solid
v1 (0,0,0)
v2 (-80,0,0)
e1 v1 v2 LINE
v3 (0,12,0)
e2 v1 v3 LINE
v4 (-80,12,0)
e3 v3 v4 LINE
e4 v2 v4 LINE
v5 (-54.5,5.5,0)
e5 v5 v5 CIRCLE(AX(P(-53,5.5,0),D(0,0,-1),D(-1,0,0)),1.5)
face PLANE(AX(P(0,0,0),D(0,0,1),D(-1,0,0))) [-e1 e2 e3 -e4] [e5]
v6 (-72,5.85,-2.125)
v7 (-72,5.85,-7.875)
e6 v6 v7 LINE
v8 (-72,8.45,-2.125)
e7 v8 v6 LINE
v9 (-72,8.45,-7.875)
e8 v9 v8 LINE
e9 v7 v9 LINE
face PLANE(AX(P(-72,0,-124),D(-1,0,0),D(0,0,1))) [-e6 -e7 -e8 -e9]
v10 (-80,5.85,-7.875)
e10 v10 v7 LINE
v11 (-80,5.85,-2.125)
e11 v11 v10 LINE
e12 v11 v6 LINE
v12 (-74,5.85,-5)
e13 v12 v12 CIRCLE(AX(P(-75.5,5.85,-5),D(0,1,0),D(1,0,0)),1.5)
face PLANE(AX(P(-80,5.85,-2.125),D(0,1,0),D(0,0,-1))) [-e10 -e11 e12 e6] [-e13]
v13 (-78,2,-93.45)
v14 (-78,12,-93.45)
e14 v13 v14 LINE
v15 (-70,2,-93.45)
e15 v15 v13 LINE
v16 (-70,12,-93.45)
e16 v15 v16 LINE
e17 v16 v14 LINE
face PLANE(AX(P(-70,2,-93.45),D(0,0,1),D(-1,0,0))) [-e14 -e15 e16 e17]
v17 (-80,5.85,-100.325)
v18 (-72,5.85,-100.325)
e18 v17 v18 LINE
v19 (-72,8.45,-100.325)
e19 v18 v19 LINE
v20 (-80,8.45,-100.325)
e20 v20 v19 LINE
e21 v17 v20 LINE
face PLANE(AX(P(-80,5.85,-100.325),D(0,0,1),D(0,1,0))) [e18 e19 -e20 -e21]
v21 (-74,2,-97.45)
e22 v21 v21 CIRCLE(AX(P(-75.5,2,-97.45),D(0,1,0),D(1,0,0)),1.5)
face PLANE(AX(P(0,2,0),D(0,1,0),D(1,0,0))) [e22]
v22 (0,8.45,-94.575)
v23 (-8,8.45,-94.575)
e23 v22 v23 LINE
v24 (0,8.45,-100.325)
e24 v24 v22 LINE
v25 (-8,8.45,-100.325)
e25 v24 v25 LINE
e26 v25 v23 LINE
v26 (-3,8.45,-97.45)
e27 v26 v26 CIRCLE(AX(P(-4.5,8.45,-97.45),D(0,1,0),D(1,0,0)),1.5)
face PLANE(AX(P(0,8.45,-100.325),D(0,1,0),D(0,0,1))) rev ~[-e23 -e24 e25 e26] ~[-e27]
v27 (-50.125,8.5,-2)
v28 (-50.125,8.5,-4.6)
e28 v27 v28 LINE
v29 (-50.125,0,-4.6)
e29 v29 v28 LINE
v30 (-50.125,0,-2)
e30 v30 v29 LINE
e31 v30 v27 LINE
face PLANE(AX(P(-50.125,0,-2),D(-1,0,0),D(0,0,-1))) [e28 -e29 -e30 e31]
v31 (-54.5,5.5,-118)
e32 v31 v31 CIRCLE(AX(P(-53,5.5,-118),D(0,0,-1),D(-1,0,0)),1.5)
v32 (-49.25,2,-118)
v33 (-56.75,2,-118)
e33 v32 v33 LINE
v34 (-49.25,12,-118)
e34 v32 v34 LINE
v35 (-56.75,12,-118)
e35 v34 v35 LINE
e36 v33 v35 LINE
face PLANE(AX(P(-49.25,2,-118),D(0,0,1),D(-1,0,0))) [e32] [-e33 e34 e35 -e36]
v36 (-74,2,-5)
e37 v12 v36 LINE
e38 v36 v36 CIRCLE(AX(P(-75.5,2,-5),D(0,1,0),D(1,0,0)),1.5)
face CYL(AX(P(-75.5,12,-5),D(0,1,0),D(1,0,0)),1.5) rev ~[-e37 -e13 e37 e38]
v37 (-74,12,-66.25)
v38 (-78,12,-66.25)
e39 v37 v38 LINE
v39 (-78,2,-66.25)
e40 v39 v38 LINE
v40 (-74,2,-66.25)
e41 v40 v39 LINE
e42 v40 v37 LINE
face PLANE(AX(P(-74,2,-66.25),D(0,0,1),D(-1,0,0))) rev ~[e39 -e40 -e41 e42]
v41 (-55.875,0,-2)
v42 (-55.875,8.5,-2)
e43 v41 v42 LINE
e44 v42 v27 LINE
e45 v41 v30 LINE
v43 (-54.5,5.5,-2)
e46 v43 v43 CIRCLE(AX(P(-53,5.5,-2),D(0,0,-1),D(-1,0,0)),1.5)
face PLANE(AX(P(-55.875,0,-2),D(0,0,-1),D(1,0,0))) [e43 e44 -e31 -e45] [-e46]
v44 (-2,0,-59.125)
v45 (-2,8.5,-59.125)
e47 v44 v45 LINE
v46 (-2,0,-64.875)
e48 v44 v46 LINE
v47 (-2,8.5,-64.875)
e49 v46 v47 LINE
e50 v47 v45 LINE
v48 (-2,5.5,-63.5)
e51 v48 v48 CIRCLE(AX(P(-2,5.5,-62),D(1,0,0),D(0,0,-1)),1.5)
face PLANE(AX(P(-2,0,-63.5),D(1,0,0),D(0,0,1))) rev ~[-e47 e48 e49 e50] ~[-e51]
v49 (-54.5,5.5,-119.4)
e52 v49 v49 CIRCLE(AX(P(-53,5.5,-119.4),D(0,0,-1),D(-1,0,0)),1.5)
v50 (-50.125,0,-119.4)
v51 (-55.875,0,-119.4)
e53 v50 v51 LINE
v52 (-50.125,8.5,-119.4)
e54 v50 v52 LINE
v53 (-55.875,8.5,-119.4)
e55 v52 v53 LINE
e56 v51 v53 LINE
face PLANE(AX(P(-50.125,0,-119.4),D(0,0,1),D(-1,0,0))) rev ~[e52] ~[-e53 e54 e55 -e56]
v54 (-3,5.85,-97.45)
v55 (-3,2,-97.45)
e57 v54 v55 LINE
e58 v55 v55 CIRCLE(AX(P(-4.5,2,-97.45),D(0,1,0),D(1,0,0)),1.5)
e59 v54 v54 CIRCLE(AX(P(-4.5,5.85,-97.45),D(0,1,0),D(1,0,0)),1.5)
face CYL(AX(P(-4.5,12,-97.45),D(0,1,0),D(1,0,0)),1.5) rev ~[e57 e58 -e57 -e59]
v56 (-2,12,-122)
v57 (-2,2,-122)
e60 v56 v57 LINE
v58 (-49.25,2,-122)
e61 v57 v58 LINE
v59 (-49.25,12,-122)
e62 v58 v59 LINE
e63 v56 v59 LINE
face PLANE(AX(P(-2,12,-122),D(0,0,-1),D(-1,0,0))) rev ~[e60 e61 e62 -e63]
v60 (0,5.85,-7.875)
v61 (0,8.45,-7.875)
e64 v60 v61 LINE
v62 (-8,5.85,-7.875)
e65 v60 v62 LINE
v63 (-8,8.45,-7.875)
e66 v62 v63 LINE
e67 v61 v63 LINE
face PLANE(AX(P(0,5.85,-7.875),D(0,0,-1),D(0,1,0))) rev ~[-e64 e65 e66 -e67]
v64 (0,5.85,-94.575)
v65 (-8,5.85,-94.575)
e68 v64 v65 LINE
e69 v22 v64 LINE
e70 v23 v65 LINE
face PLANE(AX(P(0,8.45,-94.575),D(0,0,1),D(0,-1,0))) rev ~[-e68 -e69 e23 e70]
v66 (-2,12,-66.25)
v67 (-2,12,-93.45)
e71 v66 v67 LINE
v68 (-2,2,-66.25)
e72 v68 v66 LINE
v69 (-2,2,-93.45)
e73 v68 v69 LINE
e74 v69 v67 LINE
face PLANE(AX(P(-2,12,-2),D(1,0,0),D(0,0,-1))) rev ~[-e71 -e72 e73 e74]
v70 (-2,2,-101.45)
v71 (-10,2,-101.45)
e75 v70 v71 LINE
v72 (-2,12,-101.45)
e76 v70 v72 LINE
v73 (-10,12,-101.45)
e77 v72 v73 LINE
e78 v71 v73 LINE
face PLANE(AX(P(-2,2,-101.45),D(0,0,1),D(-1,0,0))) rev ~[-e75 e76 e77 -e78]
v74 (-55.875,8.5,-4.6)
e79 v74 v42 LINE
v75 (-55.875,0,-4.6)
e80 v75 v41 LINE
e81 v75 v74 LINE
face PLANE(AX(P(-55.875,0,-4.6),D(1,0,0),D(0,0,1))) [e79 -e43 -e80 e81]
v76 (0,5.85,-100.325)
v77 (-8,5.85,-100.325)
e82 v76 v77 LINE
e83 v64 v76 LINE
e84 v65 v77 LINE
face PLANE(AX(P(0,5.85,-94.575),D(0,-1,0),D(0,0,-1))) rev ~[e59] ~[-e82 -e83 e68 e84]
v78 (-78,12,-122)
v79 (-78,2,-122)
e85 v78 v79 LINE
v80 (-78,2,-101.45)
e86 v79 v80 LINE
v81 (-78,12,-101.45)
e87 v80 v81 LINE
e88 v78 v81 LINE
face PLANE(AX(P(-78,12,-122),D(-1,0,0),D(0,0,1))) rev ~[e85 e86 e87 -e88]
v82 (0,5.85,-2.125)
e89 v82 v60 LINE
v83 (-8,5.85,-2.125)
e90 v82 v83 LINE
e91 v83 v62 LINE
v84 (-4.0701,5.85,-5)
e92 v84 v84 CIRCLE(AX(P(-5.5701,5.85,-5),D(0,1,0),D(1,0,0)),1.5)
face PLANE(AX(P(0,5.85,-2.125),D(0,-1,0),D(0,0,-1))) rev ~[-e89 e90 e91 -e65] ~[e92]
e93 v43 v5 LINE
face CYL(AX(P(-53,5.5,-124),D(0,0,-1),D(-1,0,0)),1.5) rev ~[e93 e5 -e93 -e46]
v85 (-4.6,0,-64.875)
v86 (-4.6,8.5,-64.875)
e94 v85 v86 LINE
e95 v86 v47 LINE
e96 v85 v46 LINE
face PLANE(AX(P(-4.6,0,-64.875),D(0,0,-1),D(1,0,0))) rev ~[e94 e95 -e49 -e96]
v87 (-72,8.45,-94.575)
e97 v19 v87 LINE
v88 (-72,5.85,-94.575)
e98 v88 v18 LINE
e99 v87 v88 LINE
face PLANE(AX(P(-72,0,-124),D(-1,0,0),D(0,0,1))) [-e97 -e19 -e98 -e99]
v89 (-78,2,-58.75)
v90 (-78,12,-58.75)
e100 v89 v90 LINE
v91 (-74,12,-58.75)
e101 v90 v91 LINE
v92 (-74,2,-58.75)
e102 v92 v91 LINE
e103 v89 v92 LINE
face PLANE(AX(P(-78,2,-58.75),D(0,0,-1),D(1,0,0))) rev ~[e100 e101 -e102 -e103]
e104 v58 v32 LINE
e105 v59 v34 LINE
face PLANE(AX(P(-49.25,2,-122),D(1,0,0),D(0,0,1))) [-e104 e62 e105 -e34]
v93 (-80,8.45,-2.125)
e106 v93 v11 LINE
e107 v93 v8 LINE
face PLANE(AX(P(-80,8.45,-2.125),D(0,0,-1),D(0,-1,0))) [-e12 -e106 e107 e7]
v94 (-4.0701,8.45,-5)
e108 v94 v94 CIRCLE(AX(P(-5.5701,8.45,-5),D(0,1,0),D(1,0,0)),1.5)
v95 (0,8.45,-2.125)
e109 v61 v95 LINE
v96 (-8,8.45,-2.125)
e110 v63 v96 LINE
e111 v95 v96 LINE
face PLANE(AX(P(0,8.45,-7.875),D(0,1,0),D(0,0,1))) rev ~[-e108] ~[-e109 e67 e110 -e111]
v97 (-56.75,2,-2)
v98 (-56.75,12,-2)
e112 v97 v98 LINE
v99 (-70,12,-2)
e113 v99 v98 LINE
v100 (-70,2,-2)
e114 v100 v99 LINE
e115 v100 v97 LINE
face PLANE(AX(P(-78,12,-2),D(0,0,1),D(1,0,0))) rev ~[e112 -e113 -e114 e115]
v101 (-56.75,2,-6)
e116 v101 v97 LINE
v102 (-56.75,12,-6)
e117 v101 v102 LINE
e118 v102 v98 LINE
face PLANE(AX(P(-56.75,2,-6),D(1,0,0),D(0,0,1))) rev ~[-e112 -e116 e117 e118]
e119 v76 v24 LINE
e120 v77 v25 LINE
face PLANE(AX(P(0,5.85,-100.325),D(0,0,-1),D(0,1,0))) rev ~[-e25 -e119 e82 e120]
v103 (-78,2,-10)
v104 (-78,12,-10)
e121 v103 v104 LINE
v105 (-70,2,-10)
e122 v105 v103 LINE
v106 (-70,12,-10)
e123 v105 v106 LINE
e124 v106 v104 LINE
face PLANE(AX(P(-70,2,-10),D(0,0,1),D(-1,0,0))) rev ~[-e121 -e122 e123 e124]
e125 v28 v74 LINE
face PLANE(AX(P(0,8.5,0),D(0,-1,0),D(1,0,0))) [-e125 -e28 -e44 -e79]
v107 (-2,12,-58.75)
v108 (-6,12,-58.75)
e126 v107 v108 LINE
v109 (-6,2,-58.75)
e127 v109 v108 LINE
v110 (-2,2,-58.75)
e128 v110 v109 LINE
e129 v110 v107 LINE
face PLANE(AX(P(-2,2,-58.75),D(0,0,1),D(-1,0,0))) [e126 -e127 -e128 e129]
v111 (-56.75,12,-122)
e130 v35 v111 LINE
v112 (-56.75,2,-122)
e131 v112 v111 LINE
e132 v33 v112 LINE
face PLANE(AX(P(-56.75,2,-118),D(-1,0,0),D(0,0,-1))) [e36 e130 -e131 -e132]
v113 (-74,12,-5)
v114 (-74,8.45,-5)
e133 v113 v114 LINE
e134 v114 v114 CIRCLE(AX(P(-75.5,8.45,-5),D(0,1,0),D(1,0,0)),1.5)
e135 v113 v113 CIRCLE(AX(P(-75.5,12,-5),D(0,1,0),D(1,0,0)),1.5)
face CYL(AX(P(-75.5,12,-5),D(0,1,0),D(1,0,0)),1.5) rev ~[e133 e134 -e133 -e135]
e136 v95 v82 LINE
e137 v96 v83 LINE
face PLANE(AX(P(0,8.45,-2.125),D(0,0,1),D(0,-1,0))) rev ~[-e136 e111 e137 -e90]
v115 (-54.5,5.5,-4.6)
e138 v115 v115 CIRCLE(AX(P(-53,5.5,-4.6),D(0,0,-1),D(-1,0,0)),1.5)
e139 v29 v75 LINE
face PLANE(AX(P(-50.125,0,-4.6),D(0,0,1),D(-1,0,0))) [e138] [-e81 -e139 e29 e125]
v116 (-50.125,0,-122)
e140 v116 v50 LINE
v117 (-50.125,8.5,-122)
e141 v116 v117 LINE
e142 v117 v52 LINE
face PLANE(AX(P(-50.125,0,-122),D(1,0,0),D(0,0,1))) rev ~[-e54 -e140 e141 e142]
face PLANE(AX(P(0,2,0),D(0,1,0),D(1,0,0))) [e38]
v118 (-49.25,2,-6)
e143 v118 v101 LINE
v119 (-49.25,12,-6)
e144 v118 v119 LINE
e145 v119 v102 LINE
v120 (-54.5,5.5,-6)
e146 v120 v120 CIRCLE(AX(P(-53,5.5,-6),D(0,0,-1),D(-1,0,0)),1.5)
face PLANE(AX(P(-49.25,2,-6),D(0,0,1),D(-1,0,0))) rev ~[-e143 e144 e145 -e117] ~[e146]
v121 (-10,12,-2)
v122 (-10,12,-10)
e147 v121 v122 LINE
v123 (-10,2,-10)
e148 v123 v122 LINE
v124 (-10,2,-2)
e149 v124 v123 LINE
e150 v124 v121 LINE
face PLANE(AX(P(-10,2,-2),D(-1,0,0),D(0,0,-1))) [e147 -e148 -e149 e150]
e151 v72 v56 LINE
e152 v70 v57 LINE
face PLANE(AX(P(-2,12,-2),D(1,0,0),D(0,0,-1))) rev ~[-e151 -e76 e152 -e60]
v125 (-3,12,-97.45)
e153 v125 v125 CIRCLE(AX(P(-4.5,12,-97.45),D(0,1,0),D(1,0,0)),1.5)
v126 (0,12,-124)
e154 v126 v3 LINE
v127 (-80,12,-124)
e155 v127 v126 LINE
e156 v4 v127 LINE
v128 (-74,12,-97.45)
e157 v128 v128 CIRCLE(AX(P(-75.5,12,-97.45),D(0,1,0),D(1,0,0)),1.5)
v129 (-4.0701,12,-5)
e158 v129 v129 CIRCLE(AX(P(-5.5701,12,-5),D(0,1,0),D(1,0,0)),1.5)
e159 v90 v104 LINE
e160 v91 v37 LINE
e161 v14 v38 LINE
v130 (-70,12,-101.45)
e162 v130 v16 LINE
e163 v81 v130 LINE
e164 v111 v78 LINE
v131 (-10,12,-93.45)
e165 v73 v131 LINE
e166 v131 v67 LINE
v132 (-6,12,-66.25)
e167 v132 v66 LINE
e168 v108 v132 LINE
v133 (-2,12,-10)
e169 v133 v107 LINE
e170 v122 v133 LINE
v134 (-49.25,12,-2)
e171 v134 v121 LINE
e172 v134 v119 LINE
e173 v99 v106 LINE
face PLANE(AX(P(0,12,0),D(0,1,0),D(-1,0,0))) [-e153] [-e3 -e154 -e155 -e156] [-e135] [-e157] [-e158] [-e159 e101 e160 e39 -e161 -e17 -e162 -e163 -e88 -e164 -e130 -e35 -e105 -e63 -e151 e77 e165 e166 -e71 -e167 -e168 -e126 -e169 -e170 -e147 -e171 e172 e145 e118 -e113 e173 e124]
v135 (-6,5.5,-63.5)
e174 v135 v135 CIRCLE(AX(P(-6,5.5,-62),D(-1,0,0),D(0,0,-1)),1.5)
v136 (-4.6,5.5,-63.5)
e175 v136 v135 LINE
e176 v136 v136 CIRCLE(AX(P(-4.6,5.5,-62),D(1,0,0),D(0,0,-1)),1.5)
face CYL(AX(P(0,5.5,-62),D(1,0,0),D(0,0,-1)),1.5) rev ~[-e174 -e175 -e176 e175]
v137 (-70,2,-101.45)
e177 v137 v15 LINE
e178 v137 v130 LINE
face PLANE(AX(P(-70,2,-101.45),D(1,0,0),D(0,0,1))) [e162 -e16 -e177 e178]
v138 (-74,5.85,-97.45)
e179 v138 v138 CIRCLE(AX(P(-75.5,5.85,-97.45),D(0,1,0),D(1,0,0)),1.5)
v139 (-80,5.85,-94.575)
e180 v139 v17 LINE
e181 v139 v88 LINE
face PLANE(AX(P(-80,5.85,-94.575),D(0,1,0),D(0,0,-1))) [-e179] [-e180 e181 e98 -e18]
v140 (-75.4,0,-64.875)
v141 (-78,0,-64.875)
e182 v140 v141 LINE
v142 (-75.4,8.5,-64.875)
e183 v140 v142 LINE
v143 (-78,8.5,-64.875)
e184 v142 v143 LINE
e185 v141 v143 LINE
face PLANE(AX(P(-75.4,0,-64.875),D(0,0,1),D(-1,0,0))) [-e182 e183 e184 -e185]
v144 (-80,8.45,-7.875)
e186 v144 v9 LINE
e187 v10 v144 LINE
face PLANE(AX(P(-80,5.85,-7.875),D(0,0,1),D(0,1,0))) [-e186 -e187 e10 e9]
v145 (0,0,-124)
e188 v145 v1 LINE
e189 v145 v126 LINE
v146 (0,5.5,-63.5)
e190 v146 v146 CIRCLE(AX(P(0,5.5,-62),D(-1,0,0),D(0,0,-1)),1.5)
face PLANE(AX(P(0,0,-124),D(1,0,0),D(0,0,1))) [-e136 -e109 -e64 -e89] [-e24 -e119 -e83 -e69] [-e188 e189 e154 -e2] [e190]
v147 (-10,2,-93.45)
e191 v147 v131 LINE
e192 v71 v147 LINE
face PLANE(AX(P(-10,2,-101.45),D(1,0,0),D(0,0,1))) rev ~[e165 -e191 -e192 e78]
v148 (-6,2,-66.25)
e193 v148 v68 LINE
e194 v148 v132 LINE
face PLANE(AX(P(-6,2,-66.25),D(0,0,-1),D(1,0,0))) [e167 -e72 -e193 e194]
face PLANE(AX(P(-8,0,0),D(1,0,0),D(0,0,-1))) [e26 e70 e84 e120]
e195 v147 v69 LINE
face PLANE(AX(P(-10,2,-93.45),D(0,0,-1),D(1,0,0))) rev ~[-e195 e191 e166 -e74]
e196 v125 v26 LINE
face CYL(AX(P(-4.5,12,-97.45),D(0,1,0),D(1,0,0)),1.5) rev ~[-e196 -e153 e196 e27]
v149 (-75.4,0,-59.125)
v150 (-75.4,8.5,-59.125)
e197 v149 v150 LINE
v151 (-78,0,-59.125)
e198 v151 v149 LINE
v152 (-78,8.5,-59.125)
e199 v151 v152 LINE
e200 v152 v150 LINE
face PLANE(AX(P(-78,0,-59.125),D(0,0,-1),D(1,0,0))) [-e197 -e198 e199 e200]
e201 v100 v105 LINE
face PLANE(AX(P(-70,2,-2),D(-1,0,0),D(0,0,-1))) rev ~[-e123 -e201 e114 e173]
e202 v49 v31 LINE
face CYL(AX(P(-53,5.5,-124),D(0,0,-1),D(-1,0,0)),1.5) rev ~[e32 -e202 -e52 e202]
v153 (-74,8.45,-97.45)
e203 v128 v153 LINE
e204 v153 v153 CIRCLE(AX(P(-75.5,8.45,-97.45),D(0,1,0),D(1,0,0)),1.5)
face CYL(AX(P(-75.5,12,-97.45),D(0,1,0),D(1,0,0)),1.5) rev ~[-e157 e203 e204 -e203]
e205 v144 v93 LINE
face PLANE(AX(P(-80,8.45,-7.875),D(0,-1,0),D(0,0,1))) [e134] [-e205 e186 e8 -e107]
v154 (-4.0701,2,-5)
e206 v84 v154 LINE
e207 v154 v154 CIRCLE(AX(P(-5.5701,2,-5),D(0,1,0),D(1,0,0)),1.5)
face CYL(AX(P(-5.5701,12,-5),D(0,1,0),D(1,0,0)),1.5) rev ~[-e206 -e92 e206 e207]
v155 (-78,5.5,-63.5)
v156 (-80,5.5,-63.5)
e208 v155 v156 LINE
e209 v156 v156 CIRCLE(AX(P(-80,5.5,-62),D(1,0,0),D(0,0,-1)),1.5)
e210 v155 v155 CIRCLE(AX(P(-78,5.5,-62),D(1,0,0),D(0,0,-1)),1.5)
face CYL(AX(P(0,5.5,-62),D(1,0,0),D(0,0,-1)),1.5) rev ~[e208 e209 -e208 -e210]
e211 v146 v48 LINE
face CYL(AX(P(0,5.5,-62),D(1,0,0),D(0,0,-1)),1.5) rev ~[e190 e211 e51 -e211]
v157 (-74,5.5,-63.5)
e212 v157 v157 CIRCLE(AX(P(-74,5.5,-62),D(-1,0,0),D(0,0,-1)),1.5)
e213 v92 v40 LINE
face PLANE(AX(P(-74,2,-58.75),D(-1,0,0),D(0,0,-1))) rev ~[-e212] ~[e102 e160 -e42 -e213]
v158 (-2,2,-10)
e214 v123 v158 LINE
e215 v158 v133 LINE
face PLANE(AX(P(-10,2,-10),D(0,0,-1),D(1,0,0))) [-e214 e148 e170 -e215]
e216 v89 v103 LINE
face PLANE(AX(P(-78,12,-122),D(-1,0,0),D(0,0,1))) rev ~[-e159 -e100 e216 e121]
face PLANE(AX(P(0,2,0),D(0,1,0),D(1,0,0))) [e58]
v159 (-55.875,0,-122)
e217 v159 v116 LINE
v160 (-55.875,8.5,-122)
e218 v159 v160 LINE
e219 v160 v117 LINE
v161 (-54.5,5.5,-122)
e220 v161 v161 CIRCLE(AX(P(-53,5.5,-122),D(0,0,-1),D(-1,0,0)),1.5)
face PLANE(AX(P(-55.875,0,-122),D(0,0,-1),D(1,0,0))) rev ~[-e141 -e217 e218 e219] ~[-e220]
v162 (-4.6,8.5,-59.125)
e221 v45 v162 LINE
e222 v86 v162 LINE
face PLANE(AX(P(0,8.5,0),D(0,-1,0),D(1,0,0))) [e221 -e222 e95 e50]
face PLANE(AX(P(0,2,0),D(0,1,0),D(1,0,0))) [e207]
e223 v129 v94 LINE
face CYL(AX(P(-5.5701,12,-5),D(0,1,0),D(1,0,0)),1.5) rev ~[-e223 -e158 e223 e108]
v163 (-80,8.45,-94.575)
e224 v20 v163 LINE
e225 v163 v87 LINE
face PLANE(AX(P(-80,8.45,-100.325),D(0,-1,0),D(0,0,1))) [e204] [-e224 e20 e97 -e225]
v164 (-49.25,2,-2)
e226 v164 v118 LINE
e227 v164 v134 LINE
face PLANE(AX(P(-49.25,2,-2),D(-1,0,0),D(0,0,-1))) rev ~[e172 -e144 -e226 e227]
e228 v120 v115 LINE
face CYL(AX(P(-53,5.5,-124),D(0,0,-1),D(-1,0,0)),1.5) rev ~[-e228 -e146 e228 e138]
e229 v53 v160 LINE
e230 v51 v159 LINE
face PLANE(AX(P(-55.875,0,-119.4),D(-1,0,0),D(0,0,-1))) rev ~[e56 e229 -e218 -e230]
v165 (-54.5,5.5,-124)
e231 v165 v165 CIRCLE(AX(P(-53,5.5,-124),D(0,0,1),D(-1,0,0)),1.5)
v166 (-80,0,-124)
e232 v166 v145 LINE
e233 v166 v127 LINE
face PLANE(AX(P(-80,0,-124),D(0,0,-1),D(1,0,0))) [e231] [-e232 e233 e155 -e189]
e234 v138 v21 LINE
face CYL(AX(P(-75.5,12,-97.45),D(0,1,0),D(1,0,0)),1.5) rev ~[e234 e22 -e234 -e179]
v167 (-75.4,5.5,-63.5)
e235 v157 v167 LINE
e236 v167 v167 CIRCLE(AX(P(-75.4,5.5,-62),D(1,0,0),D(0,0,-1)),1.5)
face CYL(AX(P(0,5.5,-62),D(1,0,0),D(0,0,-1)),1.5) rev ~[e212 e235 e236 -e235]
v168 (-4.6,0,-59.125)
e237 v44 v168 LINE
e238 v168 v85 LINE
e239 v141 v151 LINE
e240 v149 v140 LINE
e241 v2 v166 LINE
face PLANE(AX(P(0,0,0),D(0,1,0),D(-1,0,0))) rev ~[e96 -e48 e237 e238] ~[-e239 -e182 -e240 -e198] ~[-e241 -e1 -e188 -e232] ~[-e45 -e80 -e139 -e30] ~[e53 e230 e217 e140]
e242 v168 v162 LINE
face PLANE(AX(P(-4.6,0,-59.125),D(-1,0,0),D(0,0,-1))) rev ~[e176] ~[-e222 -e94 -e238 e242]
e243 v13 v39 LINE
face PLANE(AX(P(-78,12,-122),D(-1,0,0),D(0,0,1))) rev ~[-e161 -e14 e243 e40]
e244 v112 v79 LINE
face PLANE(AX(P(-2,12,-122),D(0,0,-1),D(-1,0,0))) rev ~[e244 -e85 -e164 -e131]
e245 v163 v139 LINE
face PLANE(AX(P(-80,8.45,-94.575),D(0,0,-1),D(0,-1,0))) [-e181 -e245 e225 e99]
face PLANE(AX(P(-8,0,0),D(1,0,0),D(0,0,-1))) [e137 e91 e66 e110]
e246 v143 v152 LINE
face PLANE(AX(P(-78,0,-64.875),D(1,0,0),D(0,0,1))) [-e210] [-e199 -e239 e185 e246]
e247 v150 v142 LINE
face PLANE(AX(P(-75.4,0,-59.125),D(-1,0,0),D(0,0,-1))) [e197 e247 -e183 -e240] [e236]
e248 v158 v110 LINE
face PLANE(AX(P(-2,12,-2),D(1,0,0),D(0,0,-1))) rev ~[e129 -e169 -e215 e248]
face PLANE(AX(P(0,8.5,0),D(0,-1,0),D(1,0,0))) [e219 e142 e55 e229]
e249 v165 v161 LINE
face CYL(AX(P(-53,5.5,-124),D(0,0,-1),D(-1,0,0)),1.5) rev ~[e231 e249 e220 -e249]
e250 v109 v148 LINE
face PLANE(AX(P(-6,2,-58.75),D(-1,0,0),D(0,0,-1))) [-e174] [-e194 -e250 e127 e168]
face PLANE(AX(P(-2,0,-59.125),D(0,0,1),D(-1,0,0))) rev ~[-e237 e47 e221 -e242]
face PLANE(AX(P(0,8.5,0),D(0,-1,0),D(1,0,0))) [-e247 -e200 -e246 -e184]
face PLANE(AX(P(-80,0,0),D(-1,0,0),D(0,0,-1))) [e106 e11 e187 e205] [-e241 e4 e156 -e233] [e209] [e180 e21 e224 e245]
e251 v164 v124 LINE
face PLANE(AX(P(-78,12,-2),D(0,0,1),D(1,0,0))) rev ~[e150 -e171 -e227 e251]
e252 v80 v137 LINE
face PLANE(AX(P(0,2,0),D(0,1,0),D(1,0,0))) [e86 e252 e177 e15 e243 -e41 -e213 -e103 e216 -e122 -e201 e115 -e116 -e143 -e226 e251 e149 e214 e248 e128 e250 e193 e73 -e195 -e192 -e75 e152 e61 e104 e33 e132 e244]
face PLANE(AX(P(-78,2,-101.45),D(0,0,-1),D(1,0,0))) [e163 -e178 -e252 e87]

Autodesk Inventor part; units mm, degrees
ref_plane "YZ Plane" through (0, 0, 0) normal (1, 0, 0) x (0, 1, 0)
ref_plane "XZ Plane" through (0, 0, 0) normal (0, 1, 0) x (-1, 0, 0)
ref_plane "XY Plane" through (0, 0, 0) normal (0, 0, 1) x (1, 0, 0)
sketch "Sketch1" plane through (0, 0, 0) normal (0, 1, 0) x (-1, 0, 0)
  line L0 (0, 0) -> (80, 0)
  line L1 (80, 0) -> (80, -124)
  line L2 (80, -124) -> (0, -124)
  line L3 (0, -124) -> (0, 0)
  dimension "d0" = 80
  dimension "d1" = 124
extrude "Extrusion1" add sketch "Sketch1" along normal blind 12
sketch "Sketch2" plane through (0, 12, 0) normal (0, 1, 0) x (1, 0, 0)
  line L0 (0, 0) -> (0, 124) projected
  line L1 (0, 124) -> (-2, 124)
  line L2 (0, 124) -> (-80, 124) projected
  line L3 (-2, 124) -> (-2, 122)
  line L4 (-2, 122) -> (-78, 122)
  line L5 (-78, 122) -> (-78, 2)
  line L6 (-78, 2) -> (-2, 2)
  line L7 (-2, 2) -> (-2, 122)
  dimension "d4" = 2
  dimension "d5" = 2
  dimension "d6" = 270
  dimension "d7" = 76
  dimension "d8" = 120
extrude "Extrusion2" cut sketch "Sketch2" against normal blind 10
sketch "Sketch5" plane through (0, 2, 0) normal (0, 1, 0) x (1, 0, 0)
  line L0 (-2, 2) -> (-78, 2) projected
  line L1 (-2, 2) -> (-10, 2)
  line L2 (-10, 2) -> (-10, 10)
  line L3 (-10, 10) -> (-2, 10)
  line L4 (-2, 10) -> (-2, 2)
  line L5 (-2, 2) -> (-4.5, 2)
  line L6 (-4.5, 2) -> (-4.5, 5)
  line L7 (-78, 2) -> (-70, 2)
  line L8 (-70, 2) -> (-70, 10)
  line L9 (-70, 10) -> (-78, 10)
  line L10 (-78, 10) -> (-78, 2)
  line L11 (-2, 2) -> (-78, 2) projected
  line L12 (-78, 2) -> (-78, 101.45)
  line L13 (-78, 2) -> (21.45, 2) construction
  line L14 (-2, 122) -> (-2, 2) projected
  line L15 (-2, 2) -> (-2, 101.45)
  line L16 (-2, 2) -> (97.45, 2) construction
  line L17 (-78, 101.45) -> (-70, 101.45)
  line L18 (-70, 101.45) -> (-70, 93.45)
  line L19 (-70, 93.45) -> (-78, 93.45)
  line L20 (-78, 93.45) -> (-78, 101.45)
  line L21 (-2, 101.45) -> (-10, 101.45)
  line L22 (-10, 101.45) -> (-10, 93.45)
  line L23 (-10, 93.45) -> (-2, 93.45)
  line L24 (-2, 93.45) -> (-2, 101.45)
  point P0 (0, 0)
  dimension "d31" = 8
  dimension "d32" = 8
  dimension "d34" = 2.5
  dimension "d35" = 3
  dimension "d36" = 8
  dimension "d37" = 8
  dimension "d83" = 99.45
  dimension "d84" = 90
  dimension "d85" = 99.45
  dimension "d86" = 90
  dimension "d87" = 8
  dimension "d88" = 8
  dimension "d89" = 8
  dimension "d90" = 8
extrude "Extrusion8" add sketch "Sketch5" along normal blind 10
sketch "Sketch9" plane through (0, 12, 0) normal (0, 1, 0) x (1, 0, 0)
  circle A0 centre (-5.5701, 5) radius 1.5
  circle A1 centre (-75.5, 5) radius 1.5
  circle A2 centre (-4.5, 97.45) radius 1.5
  circle A3 centre (-75.5, 97.45) radius 1.5
  line L0 (-70, 101.45) -> (-78, 101.45) projected
  line L1 (-78, 10) -> (-78, 93.45) projected
  line L2 (-10, 2) -> (-70, 2) projected
  line L3 (-10, 10) -> (-10, 2) projected
  line L4 (-10, 93.45) -> (-2, 93.45) projected
  line L5 (-2, 93.45) -> (-2, 10) projected
  point P0 (0, 0)
  dimension "d93" = 4
  dimension "d94" = 2.5
  dimension "d95" = 3
  dimension "d96" = 2.5
  dimension "d97" = 3
  dimension "d98" = 4.4299
  dimension "d99" = 3
  dimension "d100" = 4
  dimension "d101" = 2.5
extrude "Extrusion9" cut sketch "Sketch9" against normal blind 10
sketch "Sketch11" plane through (0, 0, -124) normal (0, 0, -1) x (-1, 0, 0)
  line L0 (80, 0) -> (80, 12) projected
  line L1 (80, 0) -> (53, 0)
  line L2 (0, 0) -> (80, 0) projected
  line L3 (53, 0) -> (53, 5.5)
  circle A0 centre (53, 5.5) radius 1.5
  dimension "d107" = 27
  dimension "d108" = 5.5
  dimension "d109" = 3
sketch "Sketch12" plane through (0, 0, 0) normal (1, 0, 0) x (0, 0, -1)
  line L0 (0, 0) -> (0, 12) projected
  line L1 (0, 0) -> (0, 5.85)
  line L2 (0, 5.85) -> (2.125, 5.85)
  line L3 (2.125, 5.85) -> (7.875, 5.85)
  line L4 (7.875, 5.85) -> (7.875, 8.45)
  line L5 (7.875, 8.45) -> (2.125, 8.45)
  line L6 (2.125, 8.45) -> (2.125, 5.85)
  line L7 (124, 0) -> (0, 0) projected
  line L8 (7.875, 5.85) -> (94.575, 5.85)
  line L9 (10, 12) -> (10, 2) projected
  line L10 (7.875, 5.85) -> (94.575, 5.85) construction
  line L11 (94.575, 5.85) -> (100.325, 5.85)
  line L12 (100.325, 5.85) -> (100.325, 8.45)
  line L13 (100.325, 8.45) -> (94.575, 8.45)
  line L14 (94.575, 8.45) -> (94.575, 5.85)
  dimension "d112" = 5.85
  dimension "d113" = 2.125
  dimension "d114" = 5.75
  dimension "d115" = 2.6
  dimension "d122" = 86.7
  dimension "d123" = 0
  dimension "d124" = 5.75
  dimension "d125" = 2.6
extrude "Extrusion11" cut sketch "Sketch12" against normal blind 8
sketch "Sketch13" plane through (-80, 0, -124) normal (-1, 0, 0) x (0, 0, 1)
  line L0 (124, 0) -> (124, 5.85)
  line L1 (124, 0) -> (124, 12) projected
  line L2 (124, 5.85) -> (121.875, 5.85)
  line L3 (121.875, 5.85) -> (116.125, 5.85)
  line L4 (116.125, 5.85) -> (116.125, 8.45)
  line L5 (116.125, 8.45) -> (121.875, 8.45)
  line L6 (121.875, 8.45) -> (121.875, 5.85)
  line L7 (116.125, 5.85) -> (29.425, 5.85)
  line L8 (114, 2) -> (114, 12) projected
  line L9 (116.125, 5.85) -> (202.825, 5.85) construction
  line L10 (29.425, 5.85) -> (23.675, 5.85)
  line L11 (23.675, 5.85) -> (23.675, 8.45)
  line L12 (23.675, 8.45) -> (29.425, 8.45)
  line L13 (29.425, 8.45) -> (29.425, 5.85)
  dimension "d126" = 5.85
  dimension "d127" = 2.125
  dimension "d128" = 5.75
  dimension "d129" = 2.6
  dimension "d130" = 86.7
  dimension "d131" = 180
  dimension "d132" = 5.75
  dimension "d181" = 2.6
extrude "Extrusion12" cut sketch "Sketch13" against normal blind 8
sketch "Sketch14" plane through (0, 0, 0) normal (1, 0, 0) x (0, 0, -1)
  line L0 (0, 0) -> (124, 0) projected
  line L1 (0, 0) -> (62, 0)
  line L2 (62, 0) -> (62, 5.5)
  circle A0 centre (62, 5.5) radius 1.5
  line L3 (0, 0) -> (0, 12) projected
  dimension "d135" = 5.5
  dimension "d136" = 3
  dimension "d139" = 62
sketch "Sketch15" plane through (0, 2, 0) normal (0, 1, 0) x (1, 0, 0)
  line L0 (-80, 0) -> (0, 0) projected
  line L1 (-80, 0) -> (-56.75, 0)
  line L2 (-56.75, 0) -> (-56.75, 2)
  line L3 (-10, 2) -> (-70, 2) projected
  line L4 (-56.75, 2) -> (-49.25, 2)
  line L5 (-49.25, 2) -> (-49.25, 6)
  line L6 (-49.25, 6) -> (-56.75, 6)
  line L7 (-56.75, 6) -> (-56.75, 2)
  line L8 (0, 124) -> (-80, 124) projected
  line L9 (-80, 124) -> (-56.75, 124)
  line L10 (-56.75, 124) -> (-56.75, 122)
  line L11 (-78, 122) -> (-2, 122) projected
  line L12 (-56.75, 122) -> (-49.25, 122)
  line L13 (-49.25, 122) -> (-49.25, 118)
  line L14 (-49.25, 118) -> (-56.75, 118)
  line L15 (-56.75, 118) -> (-56.75, 122)
  line L16 (0, 0) -> (0, 58.75)
  line L17 (0, 0) -> (0, 124) projected
  line L18 (0, 58.75) -> (-2, 58.75)
  line L19 (-2, 93.45) -> (-2, 10) projected
  line L20 (-2, 58.75) -> (-6, 58.75)
  line L21 (-6, 58.75) -> (-6, 66.25)
  line L22 (-6, 66.25) -> (-2, 66.25)
  line L23 (-2, 66.25) -> (-2, 58.75)
  line L24 (-80, 0) -> (-80, 58.75)
  line L25 (-80, 124) -> (-80, 0) projected
  line L26 (-80, 58.75) -> (-78, 58.75)
  line L27 (-78, 10) -> (-78, 93.45) projected
  line L28 (-78, 58.75) -> (-74, 58.75)
  line L29 (-74, 58.75) -> (-74, 66.25)
  line L30 (-74, 66.25) -> (-78, 66.25)
  line L31 (-78, 66.25) -> (-78, 58.75)
  dimension "d140" = 23.25
  dimension "d141" = 7.5
  dimension "d142" = 4
  dimension "d143" = 23.25
  dimension "d144" = 7.5
  dimension "d145" = 4
  dimension "d146" = 58.75
  dimension "d147" = 4
  dimension "d148" = 7.5
  dimension "d149" = 58.75
  dimension "d150" = 4
  dimension "d151" = 7.5
extrude "Extrusion14" add sketch "Sketch15" along normal blind 10 contours L7 L6 L5 L3 | L20 L21 L22 L19 | L11 L13 L14 L15 | L27 L30 L29 L28
extrude "Extrusion15" cut sketch "Sketch11" against normal blind 124
extrude "Extrusion16" cut sketch "Sketch14" against normal blind 82
sketch "Sketch16" plane through (0, 0, 0) normal (0, -1, 0) x (1, 0, 0)
  line L0 (-80, 0) -> (0, 0) projected
  line L1 (-80, 0) -> (-55.875, 0)
  line L2 (-55.875, 0) -> (-55.875, -2)
  line L3 (-55.875, -2) -> (-50.125, -2)
  line L4 (-50.125, -2) -> (-50.125, -4.6)
  line L5 (-50.125, -4.6) -> (-55.875, -4.6)
  line L6 (-55.875, -4.6) -> (-55.875, -2)
  line L7 (0, -124) -> (-80, -124) projected
  line L8 (-80, -124) -> (-55.875, -124)
  line L9 (-55.875, -124) -> (-55.875, -122)
  line L10 (-55.875, -122) -> (-50.125, -122)
  line L11 (-50.125, -122) -> (-50.125, -119.4)
  line L12 (-50.125, -119.4) -> (-55.875, -119.4)
  line L13 (-55.875, -119.4) -> (-55.875, -122)
  line L14 (-80, 0) -> (-80, -59.125)
  line L15 (-80, 0) -> (-80, -124) projected
  line L16 (-80, 0) -> (-20.875, 0) construction
  line L17 (-80, -59.125) -> (-78, -59.125)
  line L18 (-74, -60.5) -> (-74, -63.5) projected
  line L19 (-78, -59.125) -> (-75.4, -59.125)
  line L20 (-75.4, -59.125) -> (-75.4, -64.875)
  line L21 (-75.4, -64.875) -> (-78, -64.875)
  line L22 (-78, -64.875) -> (-78, -59.125)
  line L23 (0, 0) -> (0, -59.125)
  line L24 (-2, -58.75) -> (-2, -10) projected
  line L25 (0, 0) -> (59.125, 0) construction
  line L26 (0, -59.125) -> (-2, -59.125)
  line L27 (0, -63.5) -> (-6, -63.5) projected
  line L28 (-2, -59.125) -> (-4.6, -59.125)
  line L29 (-4.6, -59.125) -> (-4.6, -64.875)
  line L30 (-4.6, -64.875) -> (-2, -64.875)
  line L31 (-2, -64.875) -> (-2, -59.125)
  dimension "d158" = 24.125
  dimension "d162" = 2
  dimension "d163" = 5.75
  dimension "d164" = 2.6
  dimension "d165" = 24.125
  dimension "d166" = 2
  dimension "d167" = 5.75
  dimension "d168" = 2.6
  dimension "d169" = 59.125
  dimension "d170" = 90
  dimension "d171" = 2
  dimension "d172" = 2.6
  dimension "d173" = 5.75
  dimension "d174" = 59.125
  dimension "d175" = 90
  dimension "d176" = 2
  dimension "d177" = 2.6
  dimension "d178" = 5.75
extrude "Extrusion17" cut sketch "Sketch16" against normal blind 8.5
properties part number "Case_Top"
